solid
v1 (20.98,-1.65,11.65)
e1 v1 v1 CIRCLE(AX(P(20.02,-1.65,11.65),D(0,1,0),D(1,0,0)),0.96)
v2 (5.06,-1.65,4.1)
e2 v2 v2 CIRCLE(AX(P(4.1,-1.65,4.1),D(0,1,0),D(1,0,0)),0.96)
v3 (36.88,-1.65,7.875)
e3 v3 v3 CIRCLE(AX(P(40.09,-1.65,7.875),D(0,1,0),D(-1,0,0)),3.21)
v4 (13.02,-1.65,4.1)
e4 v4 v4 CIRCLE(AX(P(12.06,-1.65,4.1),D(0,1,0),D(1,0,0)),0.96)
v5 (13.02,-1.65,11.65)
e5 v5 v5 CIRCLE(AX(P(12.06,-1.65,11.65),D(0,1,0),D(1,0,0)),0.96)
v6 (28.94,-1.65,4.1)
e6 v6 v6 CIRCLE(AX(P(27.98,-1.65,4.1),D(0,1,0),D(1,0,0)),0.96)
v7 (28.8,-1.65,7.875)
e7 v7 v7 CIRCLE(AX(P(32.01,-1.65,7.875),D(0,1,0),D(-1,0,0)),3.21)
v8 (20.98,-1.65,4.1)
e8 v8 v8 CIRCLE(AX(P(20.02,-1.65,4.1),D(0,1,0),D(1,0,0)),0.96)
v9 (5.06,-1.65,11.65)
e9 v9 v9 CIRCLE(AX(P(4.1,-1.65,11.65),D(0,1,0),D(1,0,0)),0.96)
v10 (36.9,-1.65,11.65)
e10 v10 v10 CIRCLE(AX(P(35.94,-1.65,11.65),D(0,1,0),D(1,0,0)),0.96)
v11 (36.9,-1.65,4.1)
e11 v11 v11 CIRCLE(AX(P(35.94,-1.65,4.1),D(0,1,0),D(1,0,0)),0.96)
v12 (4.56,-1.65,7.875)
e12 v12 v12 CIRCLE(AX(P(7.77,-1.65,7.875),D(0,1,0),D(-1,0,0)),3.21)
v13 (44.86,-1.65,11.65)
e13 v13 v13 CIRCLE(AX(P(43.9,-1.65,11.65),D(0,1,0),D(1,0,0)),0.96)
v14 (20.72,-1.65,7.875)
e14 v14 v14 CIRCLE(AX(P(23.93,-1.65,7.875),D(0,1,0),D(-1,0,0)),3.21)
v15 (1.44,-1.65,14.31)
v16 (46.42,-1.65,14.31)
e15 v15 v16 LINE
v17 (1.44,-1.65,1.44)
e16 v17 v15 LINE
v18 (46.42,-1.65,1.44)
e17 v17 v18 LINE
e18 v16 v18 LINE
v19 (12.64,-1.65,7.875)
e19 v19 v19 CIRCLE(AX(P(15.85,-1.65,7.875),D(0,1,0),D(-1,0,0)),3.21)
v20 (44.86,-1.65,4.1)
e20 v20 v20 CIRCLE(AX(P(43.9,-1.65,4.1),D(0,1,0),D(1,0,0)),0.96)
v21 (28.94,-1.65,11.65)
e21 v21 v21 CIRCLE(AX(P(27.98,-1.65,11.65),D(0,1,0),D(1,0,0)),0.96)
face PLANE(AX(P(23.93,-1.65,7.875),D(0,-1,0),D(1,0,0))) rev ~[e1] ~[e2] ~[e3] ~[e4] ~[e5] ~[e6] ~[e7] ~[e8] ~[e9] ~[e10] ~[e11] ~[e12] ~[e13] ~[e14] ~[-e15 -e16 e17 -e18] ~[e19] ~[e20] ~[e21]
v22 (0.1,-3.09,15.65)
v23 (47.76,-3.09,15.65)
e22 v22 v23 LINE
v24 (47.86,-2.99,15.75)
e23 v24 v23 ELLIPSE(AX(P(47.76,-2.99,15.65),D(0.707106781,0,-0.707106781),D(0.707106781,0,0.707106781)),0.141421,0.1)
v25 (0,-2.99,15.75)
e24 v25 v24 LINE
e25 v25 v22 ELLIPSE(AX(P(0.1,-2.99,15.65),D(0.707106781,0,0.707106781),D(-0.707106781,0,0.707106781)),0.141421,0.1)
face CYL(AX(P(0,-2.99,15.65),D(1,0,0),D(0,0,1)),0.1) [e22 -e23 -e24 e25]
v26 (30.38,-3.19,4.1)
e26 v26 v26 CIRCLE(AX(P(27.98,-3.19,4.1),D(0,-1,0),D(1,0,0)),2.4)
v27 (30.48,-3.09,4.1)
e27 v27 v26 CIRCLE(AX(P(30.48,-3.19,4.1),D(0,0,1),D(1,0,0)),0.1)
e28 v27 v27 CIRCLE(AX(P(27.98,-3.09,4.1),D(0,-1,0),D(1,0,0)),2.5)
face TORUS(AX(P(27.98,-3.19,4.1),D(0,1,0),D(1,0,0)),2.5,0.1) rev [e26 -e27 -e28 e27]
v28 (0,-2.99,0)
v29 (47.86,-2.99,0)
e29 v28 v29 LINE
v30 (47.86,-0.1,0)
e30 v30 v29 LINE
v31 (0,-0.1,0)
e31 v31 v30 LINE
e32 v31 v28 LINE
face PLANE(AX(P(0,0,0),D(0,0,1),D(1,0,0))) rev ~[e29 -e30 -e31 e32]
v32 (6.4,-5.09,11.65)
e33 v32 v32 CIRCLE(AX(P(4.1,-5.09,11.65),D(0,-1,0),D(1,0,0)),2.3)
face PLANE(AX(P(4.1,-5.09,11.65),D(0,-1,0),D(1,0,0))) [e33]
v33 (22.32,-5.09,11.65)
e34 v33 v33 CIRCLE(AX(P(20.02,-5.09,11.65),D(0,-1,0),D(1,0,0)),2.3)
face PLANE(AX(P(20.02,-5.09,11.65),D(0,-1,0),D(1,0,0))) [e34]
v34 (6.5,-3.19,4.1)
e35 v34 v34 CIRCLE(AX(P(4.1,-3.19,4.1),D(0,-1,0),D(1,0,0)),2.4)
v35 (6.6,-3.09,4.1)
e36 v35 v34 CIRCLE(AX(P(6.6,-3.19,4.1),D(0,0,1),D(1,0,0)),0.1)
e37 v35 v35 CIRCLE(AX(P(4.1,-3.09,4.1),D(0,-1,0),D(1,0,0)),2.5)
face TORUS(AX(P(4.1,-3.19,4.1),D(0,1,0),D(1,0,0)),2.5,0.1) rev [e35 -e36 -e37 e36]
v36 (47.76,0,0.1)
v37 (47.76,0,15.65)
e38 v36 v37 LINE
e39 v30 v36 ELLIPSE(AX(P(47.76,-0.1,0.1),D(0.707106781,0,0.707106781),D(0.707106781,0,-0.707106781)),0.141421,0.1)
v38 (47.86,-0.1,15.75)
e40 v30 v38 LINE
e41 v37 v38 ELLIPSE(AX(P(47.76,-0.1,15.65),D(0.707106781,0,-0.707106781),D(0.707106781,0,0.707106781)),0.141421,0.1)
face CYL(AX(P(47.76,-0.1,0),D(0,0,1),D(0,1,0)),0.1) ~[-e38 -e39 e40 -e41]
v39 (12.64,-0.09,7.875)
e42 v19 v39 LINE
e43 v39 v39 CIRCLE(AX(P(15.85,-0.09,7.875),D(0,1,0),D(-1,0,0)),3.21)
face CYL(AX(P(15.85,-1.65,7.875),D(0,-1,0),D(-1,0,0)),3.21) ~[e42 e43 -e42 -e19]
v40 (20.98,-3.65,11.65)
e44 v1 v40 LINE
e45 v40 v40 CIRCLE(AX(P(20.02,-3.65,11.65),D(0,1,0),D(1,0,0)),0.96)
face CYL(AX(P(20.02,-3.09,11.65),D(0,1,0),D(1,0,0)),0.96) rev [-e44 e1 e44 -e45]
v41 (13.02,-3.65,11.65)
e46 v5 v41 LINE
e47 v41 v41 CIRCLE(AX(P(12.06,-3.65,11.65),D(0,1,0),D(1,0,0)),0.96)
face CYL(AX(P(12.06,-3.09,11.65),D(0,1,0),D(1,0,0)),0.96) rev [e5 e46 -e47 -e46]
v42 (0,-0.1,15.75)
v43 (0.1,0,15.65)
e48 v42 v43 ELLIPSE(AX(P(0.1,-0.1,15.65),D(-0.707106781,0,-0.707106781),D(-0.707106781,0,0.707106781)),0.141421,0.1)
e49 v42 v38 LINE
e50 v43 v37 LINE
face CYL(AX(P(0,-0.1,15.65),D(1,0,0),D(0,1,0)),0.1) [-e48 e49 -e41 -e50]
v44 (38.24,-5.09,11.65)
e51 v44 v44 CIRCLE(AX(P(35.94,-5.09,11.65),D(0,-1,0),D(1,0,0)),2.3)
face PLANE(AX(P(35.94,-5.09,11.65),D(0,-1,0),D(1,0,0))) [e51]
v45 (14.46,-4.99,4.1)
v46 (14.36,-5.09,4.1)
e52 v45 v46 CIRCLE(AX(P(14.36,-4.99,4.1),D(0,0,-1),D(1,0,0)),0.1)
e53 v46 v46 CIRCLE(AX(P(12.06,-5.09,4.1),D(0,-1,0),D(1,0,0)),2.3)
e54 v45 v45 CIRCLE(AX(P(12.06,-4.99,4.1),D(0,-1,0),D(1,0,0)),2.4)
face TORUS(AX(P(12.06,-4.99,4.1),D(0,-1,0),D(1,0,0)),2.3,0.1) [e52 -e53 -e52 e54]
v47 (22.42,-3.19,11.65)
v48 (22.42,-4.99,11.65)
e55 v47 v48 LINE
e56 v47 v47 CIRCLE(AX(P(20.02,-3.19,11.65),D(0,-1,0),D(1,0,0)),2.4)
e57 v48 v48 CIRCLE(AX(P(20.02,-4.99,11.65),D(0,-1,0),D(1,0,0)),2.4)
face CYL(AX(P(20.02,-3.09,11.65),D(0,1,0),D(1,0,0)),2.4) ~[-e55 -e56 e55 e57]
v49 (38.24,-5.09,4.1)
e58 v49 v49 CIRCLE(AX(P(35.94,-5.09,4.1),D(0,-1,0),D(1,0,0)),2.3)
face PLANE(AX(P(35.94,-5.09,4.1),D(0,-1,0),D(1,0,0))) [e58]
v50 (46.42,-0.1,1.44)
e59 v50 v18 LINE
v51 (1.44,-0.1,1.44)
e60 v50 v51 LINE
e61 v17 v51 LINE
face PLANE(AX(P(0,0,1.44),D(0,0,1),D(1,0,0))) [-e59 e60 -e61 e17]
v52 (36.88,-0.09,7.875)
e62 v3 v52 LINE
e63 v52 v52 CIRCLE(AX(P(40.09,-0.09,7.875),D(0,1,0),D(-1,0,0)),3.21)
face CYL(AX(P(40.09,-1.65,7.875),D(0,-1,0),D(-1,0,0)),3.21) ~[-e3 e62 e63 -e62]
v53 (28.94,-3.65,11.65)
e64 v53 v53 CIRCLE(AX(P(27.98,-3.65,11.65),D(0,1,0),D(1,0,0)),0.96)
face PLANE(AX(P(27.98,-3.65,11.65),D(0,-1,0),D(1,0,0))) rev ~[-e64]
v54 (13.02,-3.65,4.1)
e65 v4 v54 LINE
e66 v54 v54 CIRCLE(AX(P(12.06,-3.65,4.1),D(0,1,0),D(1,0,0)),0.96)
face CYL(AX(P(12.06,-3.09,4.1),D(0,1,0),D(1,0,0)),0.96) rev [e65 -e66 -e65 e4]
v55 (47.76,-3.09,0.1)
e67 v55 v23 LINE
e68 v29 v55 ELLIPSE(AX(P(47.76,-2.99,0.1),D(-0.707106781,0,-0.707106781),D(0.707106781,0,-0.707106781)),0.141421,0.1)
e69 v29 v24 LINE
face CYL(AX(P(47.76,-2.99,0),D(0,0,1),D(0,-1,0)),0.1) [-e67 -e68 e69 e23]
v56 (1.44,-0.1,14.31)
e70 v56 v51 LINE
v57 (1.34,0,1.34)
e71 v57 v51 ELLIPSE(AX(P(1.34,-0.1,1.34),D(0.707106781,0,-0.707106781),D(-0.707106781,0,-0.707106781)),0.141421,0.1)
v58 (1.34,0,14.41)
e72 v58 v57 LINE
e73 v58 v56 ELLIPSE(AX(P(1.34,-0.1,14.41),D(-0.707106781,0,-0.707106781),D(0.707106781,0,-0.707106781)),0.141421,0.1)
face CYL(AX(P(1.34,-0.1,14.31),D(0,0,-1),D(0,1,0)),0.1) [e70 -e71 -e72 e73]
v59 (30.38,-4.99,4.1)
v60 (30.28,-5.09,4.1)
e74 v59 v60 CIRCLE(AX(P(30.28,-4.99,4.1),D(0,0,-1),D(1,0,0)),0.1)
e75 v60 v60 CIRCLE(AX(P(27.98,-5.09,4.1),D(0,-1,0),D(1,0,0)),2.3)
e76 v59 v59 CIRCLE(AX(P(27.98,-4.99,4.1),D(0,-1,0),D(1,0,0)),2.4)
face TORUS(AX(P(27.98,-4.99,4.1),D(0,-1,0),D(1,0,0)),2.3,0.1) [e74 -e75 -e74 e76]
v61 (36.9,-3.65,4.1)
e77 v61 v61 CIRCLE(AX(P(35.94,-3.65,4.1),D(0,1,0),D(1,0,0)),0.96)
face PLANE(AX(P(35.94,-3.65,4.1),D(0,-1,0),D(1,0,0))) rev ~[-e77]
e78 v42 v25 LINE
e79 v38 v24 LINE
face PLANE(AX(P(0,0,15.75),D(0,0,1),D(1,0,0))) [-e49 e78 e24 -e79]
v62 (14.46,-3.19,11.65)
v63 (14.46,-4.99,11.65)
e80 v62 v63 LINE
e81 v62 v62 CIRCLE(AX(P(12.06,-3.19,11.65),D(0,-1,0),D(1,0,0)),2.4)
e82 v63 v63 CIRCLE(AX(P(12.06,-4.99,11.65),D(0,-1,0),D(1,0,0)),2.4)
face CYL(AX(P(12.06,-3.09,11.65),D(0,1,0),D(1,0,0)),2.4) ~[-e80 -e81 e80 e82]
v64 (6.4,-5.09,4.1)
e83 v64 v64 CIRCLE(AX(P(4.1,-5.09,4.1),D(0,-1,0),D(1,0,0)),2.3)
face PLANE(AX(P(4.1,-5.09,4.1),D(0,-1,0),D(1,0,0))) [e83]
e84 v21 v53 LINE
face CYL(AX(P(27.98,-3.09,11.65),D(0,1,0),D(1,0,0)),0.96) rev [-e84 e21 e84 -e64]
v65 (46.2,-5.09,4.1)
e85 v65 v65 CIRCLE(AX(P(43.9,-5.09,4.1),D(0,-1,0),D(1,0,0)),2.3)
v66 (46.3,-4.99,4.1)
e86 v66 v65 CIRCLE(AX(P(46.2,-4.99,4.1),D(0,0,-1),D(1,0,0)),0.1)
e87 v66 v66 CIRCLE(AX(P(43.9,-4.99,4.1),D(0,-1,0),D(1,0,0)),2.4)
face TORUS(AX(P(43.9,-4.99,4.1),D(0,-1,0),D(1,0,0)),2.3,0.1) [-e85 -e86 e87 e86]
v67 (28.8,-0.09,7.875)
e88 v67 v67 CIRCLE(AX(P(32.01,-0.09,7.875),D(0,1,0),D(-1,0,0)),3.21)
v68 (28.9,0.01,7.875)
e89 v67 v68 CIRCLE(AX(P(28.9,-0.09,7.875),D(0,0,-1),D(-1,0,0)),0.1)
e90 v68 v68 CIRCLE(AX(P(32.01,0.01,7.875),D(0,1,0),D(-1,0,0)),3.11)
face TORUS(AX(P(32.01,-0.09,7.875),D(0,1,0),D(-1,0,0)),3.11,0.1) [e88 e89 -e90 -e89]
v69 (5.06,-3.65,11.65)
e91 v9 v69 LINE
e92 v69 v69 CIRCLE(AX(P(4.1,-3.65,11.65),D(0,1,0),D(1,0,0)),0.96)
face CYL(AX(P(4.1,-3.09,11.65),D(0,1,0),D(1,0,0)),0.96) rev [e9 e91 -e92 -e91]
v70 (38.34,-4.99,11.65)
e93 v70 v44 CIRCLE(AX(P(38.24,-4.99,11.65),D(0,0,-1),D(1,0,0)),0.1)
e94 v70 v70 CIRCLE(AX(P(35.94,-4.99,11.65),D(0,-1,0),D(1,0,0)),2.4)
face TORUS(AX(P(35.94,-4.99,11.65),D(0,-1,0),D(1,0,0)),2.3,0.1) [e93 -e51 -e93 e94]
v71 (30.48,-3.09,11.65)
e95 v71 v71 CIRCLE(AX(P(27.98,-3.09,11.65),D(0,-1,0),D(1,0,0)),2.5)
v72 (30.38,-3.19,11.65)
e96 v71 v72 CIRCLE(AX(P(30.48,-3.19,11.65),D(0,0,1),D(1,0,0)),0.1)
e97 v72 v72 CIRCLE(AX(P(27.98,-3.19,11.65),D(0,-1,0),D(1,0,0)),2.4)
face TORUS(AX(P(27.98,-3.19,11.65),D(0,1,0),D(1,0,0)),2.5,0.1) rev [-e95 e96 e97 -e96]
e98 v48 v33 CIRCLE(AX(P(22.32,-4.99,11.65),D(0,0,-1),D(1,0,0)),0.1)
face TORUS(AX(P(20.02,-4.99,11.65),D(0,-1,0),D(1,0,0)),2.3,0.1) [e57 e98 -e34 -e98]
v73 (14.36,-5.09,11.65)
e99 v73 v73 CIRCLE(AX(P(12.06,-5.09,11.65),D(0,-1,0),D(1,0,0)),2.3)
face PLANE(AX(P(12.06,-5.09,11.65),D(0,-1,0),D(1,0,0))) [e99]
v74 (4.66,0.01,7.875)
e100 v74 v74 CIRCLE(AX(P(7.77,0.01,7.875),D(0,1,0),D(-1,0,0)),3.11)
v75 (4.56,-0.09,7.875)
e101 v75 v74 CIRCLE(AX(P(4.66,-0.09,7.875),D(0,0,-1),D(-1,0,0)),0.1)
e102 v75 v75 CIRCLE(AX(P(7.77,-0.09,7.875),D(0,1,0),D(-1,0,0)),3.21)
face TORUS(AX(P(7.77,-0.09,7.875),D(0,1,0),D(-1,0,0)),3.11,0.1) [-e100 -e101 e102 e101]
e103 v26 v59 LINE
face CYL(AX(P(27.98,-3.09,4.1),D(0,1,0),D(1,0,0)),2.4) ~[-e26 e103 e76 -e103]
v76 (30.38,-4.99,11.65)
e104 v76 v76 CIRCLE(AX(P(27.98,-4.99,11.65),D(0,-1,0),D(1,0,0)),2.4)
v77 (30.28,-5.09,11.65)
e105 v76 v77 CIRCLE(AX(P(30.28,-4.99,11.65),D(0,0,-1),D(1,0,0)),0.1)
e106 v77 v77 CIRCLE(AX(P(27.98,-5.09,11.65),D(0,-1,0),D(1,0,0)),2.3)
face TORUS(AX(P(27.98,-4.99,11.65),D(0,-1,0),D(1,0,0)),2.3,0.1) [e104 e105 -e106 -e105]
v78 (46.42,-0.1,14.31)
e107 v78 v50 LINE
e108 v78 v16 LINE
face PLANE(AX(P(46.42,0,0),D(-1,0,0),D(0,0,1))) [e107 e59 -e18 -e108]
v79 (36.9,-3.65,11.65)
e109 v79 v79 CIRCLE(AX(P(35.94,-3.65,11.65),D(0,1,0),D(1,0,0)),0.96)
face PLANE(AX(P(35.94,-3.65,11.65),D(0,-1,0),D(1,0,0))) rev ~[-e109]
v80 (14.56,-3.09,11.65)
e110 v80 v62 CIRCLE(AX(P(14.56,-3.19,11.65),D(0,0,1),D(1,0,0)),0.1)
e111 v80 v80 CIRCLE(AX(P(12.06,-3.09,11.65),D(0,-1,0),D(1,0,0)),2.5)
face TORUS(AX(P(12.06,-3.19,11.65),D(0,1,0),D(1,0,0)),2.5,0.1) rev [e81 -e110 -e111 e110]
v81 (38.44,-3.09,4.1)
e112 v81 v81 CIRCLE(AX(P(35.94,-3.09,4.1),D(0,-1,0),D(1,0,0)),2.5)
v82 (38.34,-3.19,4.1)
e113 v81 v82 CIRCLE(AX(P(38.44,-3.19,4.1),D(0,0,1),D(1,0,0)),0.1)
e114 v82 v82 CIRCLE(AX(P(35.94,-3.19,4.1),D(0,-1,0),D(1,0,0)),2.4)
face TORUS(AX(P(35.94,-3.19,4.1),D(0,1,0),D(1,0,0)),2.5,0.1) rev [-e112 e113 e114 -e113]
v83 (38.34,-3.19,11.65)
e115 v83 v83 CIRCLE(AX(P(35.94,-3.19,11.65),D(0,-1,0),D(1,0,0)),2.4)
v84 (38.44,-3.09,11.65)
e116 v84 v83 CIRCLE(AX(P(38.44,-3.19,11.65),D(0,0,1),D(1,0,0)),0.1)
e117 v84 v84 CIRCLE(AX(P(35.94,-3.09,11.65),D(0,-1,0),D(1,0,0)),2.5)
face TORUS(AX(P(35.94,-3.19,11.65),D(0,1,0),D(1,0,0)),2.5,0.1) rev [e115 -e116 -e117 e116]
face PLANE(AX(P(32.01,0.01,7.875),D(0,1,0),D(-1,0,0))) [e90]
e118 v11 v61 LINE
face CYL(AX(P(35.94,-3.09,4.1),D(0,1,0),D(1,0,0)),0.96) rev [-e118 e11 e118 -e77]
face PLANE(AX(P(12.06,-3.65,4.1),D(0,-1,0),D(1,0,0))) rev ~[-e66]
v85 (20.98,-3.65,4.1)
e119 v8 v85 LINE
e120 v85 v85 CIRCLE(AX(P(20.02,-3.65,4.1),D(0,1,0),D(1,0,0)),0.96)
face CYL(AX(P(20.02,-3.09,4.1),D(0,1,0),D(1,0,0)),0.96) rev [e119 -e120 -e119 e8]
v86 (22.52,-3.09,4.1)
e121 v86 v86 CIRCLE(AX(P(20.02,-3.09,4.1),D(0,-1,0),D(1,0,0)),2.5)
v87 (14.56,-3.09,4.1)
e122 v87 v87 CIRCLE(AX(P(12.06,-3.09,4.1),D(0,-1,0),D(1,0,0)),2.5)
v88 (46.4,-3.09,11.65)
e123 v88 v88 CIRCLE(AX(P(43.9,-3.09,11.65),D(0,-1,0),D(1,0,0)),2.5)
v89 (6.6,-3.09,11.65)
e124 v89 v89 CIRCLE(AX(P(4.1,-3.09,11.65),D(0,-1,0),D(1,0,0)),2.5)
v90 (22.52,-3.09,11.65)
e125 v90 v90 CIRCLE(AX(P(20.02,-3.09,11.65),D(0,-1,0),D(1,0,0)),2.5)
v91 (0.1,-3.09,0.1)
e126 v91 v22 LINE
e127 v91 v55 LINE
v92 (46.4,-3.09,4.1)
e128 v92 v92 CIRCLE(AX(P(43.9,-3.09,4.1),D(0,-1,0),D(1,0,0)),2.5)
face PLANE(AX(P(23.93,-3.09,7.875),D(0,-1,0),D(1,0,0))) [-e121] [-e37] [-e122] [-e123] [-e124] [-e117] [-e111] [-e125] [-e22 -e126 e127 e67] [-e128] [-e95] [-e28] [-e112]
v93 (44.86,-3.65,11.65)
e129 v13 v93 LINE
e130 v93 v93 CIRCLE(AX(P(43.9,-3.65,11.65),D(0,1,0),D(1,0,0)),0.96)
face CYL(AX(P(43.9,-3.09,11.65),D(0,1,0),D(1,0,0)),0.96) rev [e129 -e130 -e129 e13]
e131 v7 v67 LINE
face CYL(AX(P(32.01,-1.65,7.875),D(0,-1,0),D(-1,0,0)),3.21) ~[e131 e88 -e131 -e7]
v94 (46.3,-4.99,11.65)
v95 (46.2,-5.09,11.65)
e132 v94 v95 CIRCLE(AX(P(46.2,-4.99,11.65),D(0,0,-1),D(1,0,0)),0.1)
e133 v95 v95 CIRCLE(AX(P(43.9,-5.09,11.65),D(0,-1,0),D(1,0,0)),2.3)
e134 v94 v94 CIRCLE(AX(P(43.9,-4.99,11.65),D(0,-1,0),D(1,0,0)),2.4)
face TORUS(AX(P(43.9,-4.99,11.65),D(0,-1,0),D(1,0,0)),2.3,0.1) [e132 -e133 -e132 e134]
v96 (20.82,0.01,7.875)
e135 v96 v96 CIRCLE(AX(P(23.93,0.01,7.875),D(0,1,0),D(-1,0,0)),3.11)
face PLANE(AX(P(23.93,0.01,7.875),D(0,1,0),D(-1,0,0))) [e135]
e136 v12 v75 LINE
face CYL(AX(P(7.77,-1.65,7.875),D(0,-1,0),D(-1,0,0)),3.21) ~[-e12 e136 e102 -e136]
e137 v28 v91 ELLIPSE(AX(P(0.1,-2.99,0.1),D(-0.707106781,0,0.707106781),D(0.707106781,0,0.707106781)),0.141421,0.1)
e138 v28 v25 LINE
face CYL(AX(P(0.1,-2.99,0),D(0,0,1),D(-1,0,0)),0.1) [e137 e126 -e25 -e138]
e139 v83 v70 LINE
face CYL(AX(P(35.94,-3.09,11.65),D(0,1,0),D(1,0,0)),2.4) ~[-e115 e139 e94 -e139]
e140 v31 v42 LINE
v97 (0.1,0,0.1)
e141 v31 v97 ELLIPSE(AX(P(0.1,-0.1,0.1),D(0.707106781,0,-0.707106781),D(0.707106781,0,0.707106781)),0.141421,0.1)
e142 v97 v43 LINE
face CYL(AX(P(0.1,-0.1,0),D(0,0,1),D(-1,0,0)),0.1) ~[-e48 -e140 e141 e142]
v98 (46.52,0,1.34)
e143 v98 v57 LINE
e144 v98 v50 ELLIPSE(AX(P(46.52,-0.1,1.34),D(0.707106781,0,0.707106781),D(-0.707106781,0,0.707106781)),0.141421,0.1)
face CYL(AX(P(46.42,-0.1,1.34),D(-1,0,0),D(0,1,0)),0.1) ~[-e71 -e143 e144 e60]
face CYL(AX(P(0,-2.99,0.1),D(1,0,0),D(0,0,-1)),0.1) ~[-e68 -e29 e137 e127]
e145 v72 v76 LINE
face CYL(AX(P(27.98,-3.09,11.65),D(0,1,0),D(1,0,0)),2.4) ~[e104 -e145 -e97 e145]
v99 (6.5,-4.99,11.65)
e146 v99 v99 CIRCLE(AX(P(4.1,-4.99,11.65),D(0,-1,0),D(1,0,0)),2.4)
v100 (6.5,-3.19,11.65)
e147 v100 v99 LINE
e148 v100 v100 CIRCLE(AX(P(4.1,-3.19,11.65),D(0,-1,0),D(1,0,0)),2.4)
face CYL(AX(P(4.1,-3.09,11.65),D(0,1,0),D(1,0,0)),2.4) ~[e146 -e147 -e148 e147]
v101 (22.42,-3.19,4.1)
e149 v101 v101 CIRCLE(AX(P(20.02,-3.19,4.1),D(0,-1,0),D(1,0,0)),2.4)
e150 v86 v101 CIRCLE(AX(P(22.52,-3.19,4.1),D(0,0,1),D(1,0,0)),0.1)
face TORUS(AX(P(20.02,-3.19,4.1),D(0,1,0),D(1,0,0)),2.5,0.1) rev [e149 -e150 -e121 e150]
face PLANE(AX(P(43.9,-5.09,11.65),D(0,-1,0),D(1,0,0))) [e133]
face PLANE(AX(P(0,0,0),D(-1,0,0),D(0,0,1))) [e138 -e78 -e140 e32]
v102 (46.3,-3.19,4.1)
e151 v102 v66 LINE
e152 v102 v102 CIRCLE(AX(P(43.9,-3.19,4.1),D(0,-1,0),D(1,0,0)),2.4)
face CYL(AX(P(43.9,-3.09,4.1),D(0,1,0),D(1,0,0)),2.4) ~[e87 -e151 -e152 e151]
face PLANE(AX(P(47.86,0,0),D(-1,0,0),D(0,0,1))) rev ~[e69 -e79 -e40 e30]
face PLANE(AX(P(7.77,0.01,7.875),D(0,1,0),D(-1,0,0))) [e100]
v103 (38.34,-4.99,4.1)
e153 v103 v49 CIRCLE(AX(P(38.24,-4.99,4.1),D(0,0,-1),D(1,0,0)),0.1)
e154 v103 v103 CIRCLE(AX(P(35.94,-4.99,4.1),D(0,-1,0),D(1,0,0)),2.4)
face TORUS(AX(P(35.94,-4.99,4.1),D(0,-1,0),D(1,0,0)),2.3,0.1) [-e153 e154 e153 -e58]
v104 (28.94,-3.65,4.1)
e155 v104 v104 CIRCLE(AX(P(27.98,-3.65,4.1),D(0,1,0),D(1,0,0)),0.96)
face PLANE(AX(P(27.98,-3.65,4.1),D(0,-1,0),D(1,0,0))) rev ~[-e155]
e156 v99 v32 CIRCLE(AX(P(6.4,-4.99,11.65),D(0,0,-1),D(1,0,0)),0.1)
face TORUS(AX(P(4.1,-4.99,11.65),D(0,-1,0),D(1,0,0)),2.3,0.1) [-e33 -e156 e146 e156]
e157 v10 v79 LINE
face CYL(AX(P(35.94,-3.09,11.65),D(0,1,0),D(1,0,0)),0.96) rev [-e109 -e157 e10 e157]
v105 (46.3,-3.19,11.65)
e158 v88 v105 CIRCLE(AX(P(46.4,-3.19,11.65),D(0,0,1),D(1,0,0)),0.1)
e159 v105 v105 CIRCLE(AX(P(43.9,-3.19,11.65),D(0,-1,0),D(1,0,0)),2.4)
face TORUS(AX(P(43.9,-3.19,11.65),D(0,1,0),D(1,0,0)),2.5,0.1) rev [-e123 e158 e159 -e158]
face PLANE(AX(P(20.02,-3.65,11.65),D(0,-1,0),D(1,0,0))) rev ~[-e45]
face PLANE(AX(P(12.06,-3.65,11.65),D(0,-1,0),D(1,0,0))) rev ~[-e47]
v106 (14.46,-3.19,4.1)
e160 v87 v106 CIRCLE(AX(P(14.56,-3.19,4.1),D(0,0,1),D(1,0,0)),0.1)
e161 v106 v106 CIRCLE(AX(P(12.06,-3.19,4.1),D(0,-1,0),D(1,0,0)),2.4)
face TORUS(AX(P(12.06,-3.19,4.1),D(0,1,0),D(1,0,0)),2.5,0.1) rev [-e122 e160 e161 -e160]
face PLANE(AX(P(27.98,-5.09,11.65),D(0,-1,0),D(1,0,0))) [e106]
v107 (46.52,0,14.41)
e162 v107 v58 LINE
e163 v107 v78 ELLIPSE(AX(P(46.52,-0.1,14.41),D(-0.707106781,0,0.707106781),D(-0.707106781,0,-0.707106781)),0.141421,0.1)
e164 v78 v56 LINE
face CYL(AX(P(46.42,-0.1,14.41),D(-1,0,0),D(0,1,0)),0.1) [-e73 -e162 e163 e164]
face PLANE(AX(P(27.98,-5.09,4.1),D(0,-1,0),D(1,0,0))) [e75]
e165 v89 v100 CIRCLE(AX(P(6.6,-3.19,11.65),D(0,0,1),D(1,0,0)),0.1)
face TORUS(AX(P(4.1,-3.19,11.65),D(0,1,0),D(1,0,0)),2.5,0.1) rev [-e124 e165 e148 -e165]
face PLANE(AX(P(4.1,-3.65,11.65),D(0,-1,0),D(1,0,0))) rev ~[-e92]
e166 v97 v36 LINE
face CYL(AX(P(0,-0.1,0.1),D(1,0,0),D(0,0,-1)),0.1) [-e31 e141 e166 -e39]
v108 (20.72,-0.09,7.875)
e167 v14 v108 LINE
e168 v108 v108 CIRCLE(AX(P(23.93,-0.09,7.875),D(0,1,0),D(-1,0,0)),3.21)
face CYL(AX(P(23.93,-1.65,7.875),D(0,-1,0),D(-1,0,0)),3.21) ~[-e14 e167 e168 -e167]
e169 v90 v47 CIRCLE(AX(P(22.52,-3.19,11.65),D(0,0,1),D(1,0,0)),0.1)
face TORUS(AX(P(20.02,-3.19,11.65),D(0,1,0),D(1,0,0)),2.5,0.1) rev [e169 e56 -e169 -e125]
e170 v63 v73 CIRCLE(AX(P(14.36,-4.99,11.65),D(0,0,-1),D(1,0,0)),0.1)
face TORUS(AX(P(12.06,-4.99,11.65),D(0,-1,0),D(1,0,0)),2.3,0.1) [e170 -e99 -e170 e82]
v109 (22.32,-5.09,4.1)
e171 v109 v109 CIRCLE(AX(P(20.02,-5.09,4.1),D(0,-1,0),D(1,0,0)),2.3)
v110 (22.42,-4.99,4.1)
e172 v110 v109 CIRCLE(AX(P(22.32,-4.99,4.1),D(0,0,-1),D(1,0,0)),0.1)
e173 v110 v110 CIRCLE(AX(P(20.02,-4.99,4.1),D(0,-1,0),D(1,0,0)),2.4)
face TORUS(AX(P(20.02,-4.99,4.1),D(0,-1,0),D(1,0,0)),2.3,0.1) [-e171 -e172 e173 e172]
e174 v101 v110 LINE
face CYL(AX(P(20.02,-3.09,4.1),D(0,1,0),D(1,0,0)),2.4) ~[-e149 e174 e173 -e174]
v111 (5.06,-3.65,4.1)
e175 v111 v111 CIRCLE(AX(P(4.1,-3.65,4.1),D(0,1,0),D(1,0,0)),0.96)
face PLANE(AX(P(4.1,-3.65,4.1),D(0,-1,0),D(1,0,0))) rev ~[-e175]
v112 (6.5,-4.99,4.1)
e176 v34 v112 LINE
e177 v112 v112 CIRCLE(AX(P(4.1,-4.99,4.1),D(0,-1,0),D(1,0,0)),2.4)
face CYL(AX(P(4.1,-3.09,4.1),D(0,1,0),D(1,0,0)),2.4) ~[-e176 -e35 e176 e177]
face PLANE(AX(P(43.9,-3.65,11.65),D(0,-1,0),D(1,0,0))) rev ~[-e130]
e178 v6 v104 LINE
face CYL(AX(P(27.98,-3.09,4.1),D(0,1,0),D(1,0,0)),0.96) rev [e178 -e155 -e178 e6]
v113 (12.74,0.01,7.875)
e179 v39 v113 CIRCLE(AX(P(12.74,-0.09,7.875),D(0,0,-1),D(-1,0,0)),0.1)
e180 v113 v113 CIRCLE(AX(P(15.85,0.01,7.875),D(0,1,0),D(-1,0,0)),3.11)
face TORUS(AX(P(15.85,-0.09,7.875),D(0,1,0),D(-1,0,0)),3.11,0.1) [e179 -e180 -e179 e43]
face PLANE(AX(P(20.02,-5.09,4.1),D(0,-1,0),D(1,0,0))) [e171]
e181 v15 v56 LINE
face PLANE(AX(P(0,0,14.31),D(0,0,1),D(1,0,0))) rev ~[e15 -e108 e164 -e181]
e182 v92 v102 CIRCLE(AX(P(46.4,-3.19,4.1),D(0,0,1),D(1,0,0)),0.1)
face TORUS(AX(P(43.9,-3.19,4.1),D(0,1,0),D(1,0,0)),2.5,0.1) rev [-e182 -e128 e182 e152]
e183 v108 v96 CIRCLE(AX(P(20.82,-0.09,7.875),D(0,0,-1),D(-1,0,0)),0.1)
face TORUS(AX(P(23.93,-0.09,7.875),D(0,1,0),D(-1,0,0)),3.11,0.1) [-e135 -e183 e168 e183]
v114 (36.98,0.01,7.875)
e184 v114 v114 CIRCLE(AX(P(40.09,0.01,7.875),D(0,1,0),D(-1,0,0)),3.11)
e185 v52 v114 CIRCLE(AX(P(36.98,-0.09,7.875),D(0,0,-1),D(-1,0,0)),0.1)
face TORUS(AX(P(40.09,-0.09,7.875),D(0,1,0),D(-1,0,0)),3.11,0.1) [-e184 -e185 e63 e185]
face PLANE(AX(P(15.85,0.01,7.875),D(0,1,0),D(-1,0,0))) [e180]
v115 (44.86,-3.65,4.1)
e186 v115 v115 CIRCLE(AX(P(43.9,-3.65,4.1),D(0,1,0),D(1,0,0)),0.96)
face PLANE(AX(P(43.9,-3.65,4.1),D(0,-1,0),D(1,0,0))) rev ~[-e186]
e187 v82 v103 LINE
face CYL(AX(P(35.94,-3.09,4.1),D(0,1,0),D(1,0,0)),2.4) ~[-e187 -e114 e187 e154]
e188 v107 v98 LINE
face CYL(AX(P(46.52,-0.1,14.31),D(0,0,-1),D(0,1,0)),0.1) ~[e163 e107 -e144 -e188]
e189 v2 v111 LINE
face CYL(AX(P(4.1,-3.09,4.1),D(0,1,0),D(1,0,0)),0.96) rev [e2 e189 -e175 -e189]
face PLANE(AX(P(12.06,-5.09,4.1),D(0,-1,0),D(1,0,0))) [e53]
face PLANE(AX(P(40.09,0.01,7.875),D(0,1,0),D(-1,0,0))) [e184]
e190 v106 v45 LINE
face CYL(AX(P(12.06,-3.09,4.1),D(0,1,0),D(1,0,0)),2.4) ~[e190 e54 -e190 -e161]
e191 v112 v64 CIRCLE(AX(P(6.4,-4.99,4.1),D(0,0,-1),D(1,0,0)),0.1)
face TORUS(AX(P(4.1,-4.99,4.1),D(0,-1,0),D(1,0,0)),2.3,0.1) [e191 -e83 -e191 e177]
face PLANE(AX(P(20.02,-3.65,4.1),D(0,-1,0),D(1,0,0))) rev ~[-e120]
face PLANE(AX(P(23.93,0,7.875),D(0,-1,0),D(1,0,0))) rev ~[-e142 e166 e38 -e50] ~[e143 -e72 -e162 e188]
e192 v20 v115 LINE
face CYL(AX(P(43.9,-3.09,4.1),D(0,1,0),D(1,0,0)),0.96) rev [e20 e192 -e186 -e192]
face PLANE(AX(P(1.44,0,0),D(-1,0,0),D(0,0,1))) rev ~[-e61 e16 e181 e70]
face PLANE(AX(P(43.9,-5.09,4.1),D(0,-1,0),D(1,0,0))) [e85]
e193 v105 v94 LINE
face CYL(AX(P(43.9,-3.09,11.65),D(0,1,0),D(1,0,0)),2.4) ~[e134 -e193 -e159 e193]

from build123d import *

# Parameters (mm, degrees)
F0_W      = 47.86
F0_H      = 15.75
F1_DEPTH  = 3.09
F2_R      = 2.4
F3_DEPTH  = 2
F4_R      = 2.4
F5_DEPTH  = 2
F6_R      = 2.4
F7_DEPTH  = 2
F8_R      = 2.4
F9_DEPTH  = 2
F10_R     = 2.4
F11_DEPTH = 2
F12_R     = 2.4
F13_DEPTH = 2
F14_R     = 2.4
F15_DEPTH = 2
F16_R     = 2.4
F17_DEPTH = 2
F18_R     = 2.4
F19_DEPTH = 2
F20_R     = 2.4
F21_DEPTH = 2
F22_R     = 2.4
F23_DEPTH = 2
F24_R     = 2.4
F25_DEPTH = 2
F26_T     = -1.44
F27_R     = 3.21
F28_DEPTH = 1.66
F29_R     = 0.1
F30_R     = 0.1


with BuildPart() as f1:
    # F0 (on Front) → F1 (new body)
    with BuildSketch(Plane.XZ):
        with Locations((23.93, 7.875)):
            Rectangle(F0_W, F0_H)
    extrude(amount=F1_DEPTH)

    # F2 (on face) → F3 (join)
    with BuildSketch(Plane.XZ.offset(3.09)):
        with Locations((4.1, 11.65)):
            Circle(F2_R)
    extrude(amount=F3_DEPTH)

    # F4 (on face) → F5 (join)
    with BuildSketch(Plane.XZ.offset(3.09)):
        with Locations((4.1, 4.1)):
            Circle(F4_R)
    extrude(amount=F5_DEPTH)

    # F6 (on face) → F7 (join)
    with BuildSketch(Plane.XZ.offset(3.09)):
        with Locations((12.06, 11.65)):
            Circle(F6_R)
    extrude(amount=F7_DEPTH)

    # F8 (on face) → F9 (join)
    with BuildSketch(Plane.XZ.offset(3.09)):
        with Locations((12.06, 4.1)):
            Circle(F8_R)
    extrude(amount=F9_DEPTH)

    # F10 (on face) → F11 (join)
    with BuildSketch(Plane.XZ.offset(3.09)):
        with Locations((20.02, 11.65)):
            Circle(F10_R)
    extrude(amount=F11_DEPTH)

    # F12 (on face) → F13 (join)
    with BuildSketch(Plane.XZ.offset(3.09)):
        with Locations((20.02, 4.1)):
            Circle(F12_R)
    extrude(amount=F13_DEPTH)

    # F14 (on face) → F15 (join)
    with BuildSketch(Plane.XZ.offset(3.09)):
        with Locations((27.98, 11.65)):
            Circle(F14_R)
    extrude(amount=F15_DEPTH)

    # F16 (on face) → F17 (join)
    with BuildSketch(Plane.XZ.offset(3.09)):
        with Locations((27.98, 4.1)):
            Circle(F16_R)
    extrude(amount=F17_DEPTH)

    # F18 (on face) → F19 (join)
    with BuildSketch(Plane.XZ.offset(3.09)):
        with Locations((35.94, 11.65)):
            Circle(F18_R)
    extrude(amount=F19_DEPTH)

    # F20 (on face) → F21 (join)
    with BuildSketch(Plane.XZ.offset(3.09)):
        with Locations((35.94, 4.1)):
            Circle(F20_R)
    extrude(amount=F21_DEPTH)

    # F22 (on face) → F23 (join)
    with BuildSketch(Plane.XZ.offset(3.09)):
        with Locations((43.9, 11.65)):
            Circle(F22_R)
    extrude(amount=F23_DEPTH)

    # F24 (on face) → F25 (join)
    with BuildSketch(Plane.XZ.offset(3.09)):
        with Locations((43.9, 4.1)):
            Circle(F24_R)
    extrude(amount=F25_DEPTH)

    # F26
    f26_openings = [f1.faces().sort_by_distance(p)[0] for p in [
        (23.93, 0, 7.875),
    ]]
    offset(amount=F26_T, openings=f26_openings, kind=Kind.INTERSECTION)

    # F27 (on face) → F28 (join)
    with BuildSketch(Plane(origin=(0, -1.65, 0), x_dir=(-1, 0, 0), z_dir=(0, 1, 0))):
        with Locations((-23.93, 7.875)):
            Circle(F27_R)
        with Locations((-7.77, 7.875)):
            Circle(F27_R)
        with Locations((-15.85, 7.875)):
            Circle(F27_R)
        with Locations((-32.01, 7.875)):
            Circle(F27_R)
        with Locations((-40.09, 7.875)):
            Circle(F27_R)
    extrude(amount=F28_DEPTH)

    # F29
    f29_edges = [f1.edges().sort_by_distance(p)[0] for p in [
        (1.7, -5.09, 11.65),
        (9.66, -5.09, 11.65),
        (17.62, -5.09, 11.65),
        (25.58, -5.09, 11.65),
        (33.54, -5.09, 11.65),
        (41.5, -5.09, 11.65),
        (41.5, -5.09, 4.1),
        (33.54, -5.09, 4.1),
        (25.58, -5.09, 4.1),
        (17.62, -5.09, 4.1),
        (9.66, -5.09, 4.1),
        (1.7, -5.09, 4.1),
        (0, -3.09, 7.875),
        (23.93, -3.09, 15.75),
        (23.93, -3.09, 0),
        (47.86, -3.09, 7.875),
        (1.7, -3.09, 4.1),
        (9.66, -3.09, 4.1),
        (17.62, -3.09, 4.1),
        (25.58, -3.09, 4.1),
        (33.54, -3.09, 4.1),
        (41.5, -3.09, 4.1),
        (1.7, -3.09, 11.65),
        (9.66, -3.09, 11.65),
        (17.62, -3.09, 11.65),
        (25.58, -3.09, 11.65),
        (33.54, -3.09, 11.65),
        (41.5, -3.09, 11.65),
    ]]
    fillet(f29_edges, radius=F29_R)

    # F30
    f30_edges = [f1.edges().sort_by_distance(p)[0] for p in [
        (23.93, 0, 1.44),
        (0, 0, 7.875),
        (23.93, 0, 0),
        (47.86, 0, 7.875),
        (23.93, 0, 15.75),
        (1.44, 0, 7.875),
        (23.93, 0, 14.31),
        (46.42, 0, 7.875),
        (10.98, 0.01, 7.875),
        (19.06, 0.01, 7.875),
        (27.14, 0.01, 7.875),
        (35.22, 0.01, 7.875),
        (43.3, 0.01, 7.875),
    ]]
    fillet(f30_edges, radius=F30_R)


solid = f1.part
